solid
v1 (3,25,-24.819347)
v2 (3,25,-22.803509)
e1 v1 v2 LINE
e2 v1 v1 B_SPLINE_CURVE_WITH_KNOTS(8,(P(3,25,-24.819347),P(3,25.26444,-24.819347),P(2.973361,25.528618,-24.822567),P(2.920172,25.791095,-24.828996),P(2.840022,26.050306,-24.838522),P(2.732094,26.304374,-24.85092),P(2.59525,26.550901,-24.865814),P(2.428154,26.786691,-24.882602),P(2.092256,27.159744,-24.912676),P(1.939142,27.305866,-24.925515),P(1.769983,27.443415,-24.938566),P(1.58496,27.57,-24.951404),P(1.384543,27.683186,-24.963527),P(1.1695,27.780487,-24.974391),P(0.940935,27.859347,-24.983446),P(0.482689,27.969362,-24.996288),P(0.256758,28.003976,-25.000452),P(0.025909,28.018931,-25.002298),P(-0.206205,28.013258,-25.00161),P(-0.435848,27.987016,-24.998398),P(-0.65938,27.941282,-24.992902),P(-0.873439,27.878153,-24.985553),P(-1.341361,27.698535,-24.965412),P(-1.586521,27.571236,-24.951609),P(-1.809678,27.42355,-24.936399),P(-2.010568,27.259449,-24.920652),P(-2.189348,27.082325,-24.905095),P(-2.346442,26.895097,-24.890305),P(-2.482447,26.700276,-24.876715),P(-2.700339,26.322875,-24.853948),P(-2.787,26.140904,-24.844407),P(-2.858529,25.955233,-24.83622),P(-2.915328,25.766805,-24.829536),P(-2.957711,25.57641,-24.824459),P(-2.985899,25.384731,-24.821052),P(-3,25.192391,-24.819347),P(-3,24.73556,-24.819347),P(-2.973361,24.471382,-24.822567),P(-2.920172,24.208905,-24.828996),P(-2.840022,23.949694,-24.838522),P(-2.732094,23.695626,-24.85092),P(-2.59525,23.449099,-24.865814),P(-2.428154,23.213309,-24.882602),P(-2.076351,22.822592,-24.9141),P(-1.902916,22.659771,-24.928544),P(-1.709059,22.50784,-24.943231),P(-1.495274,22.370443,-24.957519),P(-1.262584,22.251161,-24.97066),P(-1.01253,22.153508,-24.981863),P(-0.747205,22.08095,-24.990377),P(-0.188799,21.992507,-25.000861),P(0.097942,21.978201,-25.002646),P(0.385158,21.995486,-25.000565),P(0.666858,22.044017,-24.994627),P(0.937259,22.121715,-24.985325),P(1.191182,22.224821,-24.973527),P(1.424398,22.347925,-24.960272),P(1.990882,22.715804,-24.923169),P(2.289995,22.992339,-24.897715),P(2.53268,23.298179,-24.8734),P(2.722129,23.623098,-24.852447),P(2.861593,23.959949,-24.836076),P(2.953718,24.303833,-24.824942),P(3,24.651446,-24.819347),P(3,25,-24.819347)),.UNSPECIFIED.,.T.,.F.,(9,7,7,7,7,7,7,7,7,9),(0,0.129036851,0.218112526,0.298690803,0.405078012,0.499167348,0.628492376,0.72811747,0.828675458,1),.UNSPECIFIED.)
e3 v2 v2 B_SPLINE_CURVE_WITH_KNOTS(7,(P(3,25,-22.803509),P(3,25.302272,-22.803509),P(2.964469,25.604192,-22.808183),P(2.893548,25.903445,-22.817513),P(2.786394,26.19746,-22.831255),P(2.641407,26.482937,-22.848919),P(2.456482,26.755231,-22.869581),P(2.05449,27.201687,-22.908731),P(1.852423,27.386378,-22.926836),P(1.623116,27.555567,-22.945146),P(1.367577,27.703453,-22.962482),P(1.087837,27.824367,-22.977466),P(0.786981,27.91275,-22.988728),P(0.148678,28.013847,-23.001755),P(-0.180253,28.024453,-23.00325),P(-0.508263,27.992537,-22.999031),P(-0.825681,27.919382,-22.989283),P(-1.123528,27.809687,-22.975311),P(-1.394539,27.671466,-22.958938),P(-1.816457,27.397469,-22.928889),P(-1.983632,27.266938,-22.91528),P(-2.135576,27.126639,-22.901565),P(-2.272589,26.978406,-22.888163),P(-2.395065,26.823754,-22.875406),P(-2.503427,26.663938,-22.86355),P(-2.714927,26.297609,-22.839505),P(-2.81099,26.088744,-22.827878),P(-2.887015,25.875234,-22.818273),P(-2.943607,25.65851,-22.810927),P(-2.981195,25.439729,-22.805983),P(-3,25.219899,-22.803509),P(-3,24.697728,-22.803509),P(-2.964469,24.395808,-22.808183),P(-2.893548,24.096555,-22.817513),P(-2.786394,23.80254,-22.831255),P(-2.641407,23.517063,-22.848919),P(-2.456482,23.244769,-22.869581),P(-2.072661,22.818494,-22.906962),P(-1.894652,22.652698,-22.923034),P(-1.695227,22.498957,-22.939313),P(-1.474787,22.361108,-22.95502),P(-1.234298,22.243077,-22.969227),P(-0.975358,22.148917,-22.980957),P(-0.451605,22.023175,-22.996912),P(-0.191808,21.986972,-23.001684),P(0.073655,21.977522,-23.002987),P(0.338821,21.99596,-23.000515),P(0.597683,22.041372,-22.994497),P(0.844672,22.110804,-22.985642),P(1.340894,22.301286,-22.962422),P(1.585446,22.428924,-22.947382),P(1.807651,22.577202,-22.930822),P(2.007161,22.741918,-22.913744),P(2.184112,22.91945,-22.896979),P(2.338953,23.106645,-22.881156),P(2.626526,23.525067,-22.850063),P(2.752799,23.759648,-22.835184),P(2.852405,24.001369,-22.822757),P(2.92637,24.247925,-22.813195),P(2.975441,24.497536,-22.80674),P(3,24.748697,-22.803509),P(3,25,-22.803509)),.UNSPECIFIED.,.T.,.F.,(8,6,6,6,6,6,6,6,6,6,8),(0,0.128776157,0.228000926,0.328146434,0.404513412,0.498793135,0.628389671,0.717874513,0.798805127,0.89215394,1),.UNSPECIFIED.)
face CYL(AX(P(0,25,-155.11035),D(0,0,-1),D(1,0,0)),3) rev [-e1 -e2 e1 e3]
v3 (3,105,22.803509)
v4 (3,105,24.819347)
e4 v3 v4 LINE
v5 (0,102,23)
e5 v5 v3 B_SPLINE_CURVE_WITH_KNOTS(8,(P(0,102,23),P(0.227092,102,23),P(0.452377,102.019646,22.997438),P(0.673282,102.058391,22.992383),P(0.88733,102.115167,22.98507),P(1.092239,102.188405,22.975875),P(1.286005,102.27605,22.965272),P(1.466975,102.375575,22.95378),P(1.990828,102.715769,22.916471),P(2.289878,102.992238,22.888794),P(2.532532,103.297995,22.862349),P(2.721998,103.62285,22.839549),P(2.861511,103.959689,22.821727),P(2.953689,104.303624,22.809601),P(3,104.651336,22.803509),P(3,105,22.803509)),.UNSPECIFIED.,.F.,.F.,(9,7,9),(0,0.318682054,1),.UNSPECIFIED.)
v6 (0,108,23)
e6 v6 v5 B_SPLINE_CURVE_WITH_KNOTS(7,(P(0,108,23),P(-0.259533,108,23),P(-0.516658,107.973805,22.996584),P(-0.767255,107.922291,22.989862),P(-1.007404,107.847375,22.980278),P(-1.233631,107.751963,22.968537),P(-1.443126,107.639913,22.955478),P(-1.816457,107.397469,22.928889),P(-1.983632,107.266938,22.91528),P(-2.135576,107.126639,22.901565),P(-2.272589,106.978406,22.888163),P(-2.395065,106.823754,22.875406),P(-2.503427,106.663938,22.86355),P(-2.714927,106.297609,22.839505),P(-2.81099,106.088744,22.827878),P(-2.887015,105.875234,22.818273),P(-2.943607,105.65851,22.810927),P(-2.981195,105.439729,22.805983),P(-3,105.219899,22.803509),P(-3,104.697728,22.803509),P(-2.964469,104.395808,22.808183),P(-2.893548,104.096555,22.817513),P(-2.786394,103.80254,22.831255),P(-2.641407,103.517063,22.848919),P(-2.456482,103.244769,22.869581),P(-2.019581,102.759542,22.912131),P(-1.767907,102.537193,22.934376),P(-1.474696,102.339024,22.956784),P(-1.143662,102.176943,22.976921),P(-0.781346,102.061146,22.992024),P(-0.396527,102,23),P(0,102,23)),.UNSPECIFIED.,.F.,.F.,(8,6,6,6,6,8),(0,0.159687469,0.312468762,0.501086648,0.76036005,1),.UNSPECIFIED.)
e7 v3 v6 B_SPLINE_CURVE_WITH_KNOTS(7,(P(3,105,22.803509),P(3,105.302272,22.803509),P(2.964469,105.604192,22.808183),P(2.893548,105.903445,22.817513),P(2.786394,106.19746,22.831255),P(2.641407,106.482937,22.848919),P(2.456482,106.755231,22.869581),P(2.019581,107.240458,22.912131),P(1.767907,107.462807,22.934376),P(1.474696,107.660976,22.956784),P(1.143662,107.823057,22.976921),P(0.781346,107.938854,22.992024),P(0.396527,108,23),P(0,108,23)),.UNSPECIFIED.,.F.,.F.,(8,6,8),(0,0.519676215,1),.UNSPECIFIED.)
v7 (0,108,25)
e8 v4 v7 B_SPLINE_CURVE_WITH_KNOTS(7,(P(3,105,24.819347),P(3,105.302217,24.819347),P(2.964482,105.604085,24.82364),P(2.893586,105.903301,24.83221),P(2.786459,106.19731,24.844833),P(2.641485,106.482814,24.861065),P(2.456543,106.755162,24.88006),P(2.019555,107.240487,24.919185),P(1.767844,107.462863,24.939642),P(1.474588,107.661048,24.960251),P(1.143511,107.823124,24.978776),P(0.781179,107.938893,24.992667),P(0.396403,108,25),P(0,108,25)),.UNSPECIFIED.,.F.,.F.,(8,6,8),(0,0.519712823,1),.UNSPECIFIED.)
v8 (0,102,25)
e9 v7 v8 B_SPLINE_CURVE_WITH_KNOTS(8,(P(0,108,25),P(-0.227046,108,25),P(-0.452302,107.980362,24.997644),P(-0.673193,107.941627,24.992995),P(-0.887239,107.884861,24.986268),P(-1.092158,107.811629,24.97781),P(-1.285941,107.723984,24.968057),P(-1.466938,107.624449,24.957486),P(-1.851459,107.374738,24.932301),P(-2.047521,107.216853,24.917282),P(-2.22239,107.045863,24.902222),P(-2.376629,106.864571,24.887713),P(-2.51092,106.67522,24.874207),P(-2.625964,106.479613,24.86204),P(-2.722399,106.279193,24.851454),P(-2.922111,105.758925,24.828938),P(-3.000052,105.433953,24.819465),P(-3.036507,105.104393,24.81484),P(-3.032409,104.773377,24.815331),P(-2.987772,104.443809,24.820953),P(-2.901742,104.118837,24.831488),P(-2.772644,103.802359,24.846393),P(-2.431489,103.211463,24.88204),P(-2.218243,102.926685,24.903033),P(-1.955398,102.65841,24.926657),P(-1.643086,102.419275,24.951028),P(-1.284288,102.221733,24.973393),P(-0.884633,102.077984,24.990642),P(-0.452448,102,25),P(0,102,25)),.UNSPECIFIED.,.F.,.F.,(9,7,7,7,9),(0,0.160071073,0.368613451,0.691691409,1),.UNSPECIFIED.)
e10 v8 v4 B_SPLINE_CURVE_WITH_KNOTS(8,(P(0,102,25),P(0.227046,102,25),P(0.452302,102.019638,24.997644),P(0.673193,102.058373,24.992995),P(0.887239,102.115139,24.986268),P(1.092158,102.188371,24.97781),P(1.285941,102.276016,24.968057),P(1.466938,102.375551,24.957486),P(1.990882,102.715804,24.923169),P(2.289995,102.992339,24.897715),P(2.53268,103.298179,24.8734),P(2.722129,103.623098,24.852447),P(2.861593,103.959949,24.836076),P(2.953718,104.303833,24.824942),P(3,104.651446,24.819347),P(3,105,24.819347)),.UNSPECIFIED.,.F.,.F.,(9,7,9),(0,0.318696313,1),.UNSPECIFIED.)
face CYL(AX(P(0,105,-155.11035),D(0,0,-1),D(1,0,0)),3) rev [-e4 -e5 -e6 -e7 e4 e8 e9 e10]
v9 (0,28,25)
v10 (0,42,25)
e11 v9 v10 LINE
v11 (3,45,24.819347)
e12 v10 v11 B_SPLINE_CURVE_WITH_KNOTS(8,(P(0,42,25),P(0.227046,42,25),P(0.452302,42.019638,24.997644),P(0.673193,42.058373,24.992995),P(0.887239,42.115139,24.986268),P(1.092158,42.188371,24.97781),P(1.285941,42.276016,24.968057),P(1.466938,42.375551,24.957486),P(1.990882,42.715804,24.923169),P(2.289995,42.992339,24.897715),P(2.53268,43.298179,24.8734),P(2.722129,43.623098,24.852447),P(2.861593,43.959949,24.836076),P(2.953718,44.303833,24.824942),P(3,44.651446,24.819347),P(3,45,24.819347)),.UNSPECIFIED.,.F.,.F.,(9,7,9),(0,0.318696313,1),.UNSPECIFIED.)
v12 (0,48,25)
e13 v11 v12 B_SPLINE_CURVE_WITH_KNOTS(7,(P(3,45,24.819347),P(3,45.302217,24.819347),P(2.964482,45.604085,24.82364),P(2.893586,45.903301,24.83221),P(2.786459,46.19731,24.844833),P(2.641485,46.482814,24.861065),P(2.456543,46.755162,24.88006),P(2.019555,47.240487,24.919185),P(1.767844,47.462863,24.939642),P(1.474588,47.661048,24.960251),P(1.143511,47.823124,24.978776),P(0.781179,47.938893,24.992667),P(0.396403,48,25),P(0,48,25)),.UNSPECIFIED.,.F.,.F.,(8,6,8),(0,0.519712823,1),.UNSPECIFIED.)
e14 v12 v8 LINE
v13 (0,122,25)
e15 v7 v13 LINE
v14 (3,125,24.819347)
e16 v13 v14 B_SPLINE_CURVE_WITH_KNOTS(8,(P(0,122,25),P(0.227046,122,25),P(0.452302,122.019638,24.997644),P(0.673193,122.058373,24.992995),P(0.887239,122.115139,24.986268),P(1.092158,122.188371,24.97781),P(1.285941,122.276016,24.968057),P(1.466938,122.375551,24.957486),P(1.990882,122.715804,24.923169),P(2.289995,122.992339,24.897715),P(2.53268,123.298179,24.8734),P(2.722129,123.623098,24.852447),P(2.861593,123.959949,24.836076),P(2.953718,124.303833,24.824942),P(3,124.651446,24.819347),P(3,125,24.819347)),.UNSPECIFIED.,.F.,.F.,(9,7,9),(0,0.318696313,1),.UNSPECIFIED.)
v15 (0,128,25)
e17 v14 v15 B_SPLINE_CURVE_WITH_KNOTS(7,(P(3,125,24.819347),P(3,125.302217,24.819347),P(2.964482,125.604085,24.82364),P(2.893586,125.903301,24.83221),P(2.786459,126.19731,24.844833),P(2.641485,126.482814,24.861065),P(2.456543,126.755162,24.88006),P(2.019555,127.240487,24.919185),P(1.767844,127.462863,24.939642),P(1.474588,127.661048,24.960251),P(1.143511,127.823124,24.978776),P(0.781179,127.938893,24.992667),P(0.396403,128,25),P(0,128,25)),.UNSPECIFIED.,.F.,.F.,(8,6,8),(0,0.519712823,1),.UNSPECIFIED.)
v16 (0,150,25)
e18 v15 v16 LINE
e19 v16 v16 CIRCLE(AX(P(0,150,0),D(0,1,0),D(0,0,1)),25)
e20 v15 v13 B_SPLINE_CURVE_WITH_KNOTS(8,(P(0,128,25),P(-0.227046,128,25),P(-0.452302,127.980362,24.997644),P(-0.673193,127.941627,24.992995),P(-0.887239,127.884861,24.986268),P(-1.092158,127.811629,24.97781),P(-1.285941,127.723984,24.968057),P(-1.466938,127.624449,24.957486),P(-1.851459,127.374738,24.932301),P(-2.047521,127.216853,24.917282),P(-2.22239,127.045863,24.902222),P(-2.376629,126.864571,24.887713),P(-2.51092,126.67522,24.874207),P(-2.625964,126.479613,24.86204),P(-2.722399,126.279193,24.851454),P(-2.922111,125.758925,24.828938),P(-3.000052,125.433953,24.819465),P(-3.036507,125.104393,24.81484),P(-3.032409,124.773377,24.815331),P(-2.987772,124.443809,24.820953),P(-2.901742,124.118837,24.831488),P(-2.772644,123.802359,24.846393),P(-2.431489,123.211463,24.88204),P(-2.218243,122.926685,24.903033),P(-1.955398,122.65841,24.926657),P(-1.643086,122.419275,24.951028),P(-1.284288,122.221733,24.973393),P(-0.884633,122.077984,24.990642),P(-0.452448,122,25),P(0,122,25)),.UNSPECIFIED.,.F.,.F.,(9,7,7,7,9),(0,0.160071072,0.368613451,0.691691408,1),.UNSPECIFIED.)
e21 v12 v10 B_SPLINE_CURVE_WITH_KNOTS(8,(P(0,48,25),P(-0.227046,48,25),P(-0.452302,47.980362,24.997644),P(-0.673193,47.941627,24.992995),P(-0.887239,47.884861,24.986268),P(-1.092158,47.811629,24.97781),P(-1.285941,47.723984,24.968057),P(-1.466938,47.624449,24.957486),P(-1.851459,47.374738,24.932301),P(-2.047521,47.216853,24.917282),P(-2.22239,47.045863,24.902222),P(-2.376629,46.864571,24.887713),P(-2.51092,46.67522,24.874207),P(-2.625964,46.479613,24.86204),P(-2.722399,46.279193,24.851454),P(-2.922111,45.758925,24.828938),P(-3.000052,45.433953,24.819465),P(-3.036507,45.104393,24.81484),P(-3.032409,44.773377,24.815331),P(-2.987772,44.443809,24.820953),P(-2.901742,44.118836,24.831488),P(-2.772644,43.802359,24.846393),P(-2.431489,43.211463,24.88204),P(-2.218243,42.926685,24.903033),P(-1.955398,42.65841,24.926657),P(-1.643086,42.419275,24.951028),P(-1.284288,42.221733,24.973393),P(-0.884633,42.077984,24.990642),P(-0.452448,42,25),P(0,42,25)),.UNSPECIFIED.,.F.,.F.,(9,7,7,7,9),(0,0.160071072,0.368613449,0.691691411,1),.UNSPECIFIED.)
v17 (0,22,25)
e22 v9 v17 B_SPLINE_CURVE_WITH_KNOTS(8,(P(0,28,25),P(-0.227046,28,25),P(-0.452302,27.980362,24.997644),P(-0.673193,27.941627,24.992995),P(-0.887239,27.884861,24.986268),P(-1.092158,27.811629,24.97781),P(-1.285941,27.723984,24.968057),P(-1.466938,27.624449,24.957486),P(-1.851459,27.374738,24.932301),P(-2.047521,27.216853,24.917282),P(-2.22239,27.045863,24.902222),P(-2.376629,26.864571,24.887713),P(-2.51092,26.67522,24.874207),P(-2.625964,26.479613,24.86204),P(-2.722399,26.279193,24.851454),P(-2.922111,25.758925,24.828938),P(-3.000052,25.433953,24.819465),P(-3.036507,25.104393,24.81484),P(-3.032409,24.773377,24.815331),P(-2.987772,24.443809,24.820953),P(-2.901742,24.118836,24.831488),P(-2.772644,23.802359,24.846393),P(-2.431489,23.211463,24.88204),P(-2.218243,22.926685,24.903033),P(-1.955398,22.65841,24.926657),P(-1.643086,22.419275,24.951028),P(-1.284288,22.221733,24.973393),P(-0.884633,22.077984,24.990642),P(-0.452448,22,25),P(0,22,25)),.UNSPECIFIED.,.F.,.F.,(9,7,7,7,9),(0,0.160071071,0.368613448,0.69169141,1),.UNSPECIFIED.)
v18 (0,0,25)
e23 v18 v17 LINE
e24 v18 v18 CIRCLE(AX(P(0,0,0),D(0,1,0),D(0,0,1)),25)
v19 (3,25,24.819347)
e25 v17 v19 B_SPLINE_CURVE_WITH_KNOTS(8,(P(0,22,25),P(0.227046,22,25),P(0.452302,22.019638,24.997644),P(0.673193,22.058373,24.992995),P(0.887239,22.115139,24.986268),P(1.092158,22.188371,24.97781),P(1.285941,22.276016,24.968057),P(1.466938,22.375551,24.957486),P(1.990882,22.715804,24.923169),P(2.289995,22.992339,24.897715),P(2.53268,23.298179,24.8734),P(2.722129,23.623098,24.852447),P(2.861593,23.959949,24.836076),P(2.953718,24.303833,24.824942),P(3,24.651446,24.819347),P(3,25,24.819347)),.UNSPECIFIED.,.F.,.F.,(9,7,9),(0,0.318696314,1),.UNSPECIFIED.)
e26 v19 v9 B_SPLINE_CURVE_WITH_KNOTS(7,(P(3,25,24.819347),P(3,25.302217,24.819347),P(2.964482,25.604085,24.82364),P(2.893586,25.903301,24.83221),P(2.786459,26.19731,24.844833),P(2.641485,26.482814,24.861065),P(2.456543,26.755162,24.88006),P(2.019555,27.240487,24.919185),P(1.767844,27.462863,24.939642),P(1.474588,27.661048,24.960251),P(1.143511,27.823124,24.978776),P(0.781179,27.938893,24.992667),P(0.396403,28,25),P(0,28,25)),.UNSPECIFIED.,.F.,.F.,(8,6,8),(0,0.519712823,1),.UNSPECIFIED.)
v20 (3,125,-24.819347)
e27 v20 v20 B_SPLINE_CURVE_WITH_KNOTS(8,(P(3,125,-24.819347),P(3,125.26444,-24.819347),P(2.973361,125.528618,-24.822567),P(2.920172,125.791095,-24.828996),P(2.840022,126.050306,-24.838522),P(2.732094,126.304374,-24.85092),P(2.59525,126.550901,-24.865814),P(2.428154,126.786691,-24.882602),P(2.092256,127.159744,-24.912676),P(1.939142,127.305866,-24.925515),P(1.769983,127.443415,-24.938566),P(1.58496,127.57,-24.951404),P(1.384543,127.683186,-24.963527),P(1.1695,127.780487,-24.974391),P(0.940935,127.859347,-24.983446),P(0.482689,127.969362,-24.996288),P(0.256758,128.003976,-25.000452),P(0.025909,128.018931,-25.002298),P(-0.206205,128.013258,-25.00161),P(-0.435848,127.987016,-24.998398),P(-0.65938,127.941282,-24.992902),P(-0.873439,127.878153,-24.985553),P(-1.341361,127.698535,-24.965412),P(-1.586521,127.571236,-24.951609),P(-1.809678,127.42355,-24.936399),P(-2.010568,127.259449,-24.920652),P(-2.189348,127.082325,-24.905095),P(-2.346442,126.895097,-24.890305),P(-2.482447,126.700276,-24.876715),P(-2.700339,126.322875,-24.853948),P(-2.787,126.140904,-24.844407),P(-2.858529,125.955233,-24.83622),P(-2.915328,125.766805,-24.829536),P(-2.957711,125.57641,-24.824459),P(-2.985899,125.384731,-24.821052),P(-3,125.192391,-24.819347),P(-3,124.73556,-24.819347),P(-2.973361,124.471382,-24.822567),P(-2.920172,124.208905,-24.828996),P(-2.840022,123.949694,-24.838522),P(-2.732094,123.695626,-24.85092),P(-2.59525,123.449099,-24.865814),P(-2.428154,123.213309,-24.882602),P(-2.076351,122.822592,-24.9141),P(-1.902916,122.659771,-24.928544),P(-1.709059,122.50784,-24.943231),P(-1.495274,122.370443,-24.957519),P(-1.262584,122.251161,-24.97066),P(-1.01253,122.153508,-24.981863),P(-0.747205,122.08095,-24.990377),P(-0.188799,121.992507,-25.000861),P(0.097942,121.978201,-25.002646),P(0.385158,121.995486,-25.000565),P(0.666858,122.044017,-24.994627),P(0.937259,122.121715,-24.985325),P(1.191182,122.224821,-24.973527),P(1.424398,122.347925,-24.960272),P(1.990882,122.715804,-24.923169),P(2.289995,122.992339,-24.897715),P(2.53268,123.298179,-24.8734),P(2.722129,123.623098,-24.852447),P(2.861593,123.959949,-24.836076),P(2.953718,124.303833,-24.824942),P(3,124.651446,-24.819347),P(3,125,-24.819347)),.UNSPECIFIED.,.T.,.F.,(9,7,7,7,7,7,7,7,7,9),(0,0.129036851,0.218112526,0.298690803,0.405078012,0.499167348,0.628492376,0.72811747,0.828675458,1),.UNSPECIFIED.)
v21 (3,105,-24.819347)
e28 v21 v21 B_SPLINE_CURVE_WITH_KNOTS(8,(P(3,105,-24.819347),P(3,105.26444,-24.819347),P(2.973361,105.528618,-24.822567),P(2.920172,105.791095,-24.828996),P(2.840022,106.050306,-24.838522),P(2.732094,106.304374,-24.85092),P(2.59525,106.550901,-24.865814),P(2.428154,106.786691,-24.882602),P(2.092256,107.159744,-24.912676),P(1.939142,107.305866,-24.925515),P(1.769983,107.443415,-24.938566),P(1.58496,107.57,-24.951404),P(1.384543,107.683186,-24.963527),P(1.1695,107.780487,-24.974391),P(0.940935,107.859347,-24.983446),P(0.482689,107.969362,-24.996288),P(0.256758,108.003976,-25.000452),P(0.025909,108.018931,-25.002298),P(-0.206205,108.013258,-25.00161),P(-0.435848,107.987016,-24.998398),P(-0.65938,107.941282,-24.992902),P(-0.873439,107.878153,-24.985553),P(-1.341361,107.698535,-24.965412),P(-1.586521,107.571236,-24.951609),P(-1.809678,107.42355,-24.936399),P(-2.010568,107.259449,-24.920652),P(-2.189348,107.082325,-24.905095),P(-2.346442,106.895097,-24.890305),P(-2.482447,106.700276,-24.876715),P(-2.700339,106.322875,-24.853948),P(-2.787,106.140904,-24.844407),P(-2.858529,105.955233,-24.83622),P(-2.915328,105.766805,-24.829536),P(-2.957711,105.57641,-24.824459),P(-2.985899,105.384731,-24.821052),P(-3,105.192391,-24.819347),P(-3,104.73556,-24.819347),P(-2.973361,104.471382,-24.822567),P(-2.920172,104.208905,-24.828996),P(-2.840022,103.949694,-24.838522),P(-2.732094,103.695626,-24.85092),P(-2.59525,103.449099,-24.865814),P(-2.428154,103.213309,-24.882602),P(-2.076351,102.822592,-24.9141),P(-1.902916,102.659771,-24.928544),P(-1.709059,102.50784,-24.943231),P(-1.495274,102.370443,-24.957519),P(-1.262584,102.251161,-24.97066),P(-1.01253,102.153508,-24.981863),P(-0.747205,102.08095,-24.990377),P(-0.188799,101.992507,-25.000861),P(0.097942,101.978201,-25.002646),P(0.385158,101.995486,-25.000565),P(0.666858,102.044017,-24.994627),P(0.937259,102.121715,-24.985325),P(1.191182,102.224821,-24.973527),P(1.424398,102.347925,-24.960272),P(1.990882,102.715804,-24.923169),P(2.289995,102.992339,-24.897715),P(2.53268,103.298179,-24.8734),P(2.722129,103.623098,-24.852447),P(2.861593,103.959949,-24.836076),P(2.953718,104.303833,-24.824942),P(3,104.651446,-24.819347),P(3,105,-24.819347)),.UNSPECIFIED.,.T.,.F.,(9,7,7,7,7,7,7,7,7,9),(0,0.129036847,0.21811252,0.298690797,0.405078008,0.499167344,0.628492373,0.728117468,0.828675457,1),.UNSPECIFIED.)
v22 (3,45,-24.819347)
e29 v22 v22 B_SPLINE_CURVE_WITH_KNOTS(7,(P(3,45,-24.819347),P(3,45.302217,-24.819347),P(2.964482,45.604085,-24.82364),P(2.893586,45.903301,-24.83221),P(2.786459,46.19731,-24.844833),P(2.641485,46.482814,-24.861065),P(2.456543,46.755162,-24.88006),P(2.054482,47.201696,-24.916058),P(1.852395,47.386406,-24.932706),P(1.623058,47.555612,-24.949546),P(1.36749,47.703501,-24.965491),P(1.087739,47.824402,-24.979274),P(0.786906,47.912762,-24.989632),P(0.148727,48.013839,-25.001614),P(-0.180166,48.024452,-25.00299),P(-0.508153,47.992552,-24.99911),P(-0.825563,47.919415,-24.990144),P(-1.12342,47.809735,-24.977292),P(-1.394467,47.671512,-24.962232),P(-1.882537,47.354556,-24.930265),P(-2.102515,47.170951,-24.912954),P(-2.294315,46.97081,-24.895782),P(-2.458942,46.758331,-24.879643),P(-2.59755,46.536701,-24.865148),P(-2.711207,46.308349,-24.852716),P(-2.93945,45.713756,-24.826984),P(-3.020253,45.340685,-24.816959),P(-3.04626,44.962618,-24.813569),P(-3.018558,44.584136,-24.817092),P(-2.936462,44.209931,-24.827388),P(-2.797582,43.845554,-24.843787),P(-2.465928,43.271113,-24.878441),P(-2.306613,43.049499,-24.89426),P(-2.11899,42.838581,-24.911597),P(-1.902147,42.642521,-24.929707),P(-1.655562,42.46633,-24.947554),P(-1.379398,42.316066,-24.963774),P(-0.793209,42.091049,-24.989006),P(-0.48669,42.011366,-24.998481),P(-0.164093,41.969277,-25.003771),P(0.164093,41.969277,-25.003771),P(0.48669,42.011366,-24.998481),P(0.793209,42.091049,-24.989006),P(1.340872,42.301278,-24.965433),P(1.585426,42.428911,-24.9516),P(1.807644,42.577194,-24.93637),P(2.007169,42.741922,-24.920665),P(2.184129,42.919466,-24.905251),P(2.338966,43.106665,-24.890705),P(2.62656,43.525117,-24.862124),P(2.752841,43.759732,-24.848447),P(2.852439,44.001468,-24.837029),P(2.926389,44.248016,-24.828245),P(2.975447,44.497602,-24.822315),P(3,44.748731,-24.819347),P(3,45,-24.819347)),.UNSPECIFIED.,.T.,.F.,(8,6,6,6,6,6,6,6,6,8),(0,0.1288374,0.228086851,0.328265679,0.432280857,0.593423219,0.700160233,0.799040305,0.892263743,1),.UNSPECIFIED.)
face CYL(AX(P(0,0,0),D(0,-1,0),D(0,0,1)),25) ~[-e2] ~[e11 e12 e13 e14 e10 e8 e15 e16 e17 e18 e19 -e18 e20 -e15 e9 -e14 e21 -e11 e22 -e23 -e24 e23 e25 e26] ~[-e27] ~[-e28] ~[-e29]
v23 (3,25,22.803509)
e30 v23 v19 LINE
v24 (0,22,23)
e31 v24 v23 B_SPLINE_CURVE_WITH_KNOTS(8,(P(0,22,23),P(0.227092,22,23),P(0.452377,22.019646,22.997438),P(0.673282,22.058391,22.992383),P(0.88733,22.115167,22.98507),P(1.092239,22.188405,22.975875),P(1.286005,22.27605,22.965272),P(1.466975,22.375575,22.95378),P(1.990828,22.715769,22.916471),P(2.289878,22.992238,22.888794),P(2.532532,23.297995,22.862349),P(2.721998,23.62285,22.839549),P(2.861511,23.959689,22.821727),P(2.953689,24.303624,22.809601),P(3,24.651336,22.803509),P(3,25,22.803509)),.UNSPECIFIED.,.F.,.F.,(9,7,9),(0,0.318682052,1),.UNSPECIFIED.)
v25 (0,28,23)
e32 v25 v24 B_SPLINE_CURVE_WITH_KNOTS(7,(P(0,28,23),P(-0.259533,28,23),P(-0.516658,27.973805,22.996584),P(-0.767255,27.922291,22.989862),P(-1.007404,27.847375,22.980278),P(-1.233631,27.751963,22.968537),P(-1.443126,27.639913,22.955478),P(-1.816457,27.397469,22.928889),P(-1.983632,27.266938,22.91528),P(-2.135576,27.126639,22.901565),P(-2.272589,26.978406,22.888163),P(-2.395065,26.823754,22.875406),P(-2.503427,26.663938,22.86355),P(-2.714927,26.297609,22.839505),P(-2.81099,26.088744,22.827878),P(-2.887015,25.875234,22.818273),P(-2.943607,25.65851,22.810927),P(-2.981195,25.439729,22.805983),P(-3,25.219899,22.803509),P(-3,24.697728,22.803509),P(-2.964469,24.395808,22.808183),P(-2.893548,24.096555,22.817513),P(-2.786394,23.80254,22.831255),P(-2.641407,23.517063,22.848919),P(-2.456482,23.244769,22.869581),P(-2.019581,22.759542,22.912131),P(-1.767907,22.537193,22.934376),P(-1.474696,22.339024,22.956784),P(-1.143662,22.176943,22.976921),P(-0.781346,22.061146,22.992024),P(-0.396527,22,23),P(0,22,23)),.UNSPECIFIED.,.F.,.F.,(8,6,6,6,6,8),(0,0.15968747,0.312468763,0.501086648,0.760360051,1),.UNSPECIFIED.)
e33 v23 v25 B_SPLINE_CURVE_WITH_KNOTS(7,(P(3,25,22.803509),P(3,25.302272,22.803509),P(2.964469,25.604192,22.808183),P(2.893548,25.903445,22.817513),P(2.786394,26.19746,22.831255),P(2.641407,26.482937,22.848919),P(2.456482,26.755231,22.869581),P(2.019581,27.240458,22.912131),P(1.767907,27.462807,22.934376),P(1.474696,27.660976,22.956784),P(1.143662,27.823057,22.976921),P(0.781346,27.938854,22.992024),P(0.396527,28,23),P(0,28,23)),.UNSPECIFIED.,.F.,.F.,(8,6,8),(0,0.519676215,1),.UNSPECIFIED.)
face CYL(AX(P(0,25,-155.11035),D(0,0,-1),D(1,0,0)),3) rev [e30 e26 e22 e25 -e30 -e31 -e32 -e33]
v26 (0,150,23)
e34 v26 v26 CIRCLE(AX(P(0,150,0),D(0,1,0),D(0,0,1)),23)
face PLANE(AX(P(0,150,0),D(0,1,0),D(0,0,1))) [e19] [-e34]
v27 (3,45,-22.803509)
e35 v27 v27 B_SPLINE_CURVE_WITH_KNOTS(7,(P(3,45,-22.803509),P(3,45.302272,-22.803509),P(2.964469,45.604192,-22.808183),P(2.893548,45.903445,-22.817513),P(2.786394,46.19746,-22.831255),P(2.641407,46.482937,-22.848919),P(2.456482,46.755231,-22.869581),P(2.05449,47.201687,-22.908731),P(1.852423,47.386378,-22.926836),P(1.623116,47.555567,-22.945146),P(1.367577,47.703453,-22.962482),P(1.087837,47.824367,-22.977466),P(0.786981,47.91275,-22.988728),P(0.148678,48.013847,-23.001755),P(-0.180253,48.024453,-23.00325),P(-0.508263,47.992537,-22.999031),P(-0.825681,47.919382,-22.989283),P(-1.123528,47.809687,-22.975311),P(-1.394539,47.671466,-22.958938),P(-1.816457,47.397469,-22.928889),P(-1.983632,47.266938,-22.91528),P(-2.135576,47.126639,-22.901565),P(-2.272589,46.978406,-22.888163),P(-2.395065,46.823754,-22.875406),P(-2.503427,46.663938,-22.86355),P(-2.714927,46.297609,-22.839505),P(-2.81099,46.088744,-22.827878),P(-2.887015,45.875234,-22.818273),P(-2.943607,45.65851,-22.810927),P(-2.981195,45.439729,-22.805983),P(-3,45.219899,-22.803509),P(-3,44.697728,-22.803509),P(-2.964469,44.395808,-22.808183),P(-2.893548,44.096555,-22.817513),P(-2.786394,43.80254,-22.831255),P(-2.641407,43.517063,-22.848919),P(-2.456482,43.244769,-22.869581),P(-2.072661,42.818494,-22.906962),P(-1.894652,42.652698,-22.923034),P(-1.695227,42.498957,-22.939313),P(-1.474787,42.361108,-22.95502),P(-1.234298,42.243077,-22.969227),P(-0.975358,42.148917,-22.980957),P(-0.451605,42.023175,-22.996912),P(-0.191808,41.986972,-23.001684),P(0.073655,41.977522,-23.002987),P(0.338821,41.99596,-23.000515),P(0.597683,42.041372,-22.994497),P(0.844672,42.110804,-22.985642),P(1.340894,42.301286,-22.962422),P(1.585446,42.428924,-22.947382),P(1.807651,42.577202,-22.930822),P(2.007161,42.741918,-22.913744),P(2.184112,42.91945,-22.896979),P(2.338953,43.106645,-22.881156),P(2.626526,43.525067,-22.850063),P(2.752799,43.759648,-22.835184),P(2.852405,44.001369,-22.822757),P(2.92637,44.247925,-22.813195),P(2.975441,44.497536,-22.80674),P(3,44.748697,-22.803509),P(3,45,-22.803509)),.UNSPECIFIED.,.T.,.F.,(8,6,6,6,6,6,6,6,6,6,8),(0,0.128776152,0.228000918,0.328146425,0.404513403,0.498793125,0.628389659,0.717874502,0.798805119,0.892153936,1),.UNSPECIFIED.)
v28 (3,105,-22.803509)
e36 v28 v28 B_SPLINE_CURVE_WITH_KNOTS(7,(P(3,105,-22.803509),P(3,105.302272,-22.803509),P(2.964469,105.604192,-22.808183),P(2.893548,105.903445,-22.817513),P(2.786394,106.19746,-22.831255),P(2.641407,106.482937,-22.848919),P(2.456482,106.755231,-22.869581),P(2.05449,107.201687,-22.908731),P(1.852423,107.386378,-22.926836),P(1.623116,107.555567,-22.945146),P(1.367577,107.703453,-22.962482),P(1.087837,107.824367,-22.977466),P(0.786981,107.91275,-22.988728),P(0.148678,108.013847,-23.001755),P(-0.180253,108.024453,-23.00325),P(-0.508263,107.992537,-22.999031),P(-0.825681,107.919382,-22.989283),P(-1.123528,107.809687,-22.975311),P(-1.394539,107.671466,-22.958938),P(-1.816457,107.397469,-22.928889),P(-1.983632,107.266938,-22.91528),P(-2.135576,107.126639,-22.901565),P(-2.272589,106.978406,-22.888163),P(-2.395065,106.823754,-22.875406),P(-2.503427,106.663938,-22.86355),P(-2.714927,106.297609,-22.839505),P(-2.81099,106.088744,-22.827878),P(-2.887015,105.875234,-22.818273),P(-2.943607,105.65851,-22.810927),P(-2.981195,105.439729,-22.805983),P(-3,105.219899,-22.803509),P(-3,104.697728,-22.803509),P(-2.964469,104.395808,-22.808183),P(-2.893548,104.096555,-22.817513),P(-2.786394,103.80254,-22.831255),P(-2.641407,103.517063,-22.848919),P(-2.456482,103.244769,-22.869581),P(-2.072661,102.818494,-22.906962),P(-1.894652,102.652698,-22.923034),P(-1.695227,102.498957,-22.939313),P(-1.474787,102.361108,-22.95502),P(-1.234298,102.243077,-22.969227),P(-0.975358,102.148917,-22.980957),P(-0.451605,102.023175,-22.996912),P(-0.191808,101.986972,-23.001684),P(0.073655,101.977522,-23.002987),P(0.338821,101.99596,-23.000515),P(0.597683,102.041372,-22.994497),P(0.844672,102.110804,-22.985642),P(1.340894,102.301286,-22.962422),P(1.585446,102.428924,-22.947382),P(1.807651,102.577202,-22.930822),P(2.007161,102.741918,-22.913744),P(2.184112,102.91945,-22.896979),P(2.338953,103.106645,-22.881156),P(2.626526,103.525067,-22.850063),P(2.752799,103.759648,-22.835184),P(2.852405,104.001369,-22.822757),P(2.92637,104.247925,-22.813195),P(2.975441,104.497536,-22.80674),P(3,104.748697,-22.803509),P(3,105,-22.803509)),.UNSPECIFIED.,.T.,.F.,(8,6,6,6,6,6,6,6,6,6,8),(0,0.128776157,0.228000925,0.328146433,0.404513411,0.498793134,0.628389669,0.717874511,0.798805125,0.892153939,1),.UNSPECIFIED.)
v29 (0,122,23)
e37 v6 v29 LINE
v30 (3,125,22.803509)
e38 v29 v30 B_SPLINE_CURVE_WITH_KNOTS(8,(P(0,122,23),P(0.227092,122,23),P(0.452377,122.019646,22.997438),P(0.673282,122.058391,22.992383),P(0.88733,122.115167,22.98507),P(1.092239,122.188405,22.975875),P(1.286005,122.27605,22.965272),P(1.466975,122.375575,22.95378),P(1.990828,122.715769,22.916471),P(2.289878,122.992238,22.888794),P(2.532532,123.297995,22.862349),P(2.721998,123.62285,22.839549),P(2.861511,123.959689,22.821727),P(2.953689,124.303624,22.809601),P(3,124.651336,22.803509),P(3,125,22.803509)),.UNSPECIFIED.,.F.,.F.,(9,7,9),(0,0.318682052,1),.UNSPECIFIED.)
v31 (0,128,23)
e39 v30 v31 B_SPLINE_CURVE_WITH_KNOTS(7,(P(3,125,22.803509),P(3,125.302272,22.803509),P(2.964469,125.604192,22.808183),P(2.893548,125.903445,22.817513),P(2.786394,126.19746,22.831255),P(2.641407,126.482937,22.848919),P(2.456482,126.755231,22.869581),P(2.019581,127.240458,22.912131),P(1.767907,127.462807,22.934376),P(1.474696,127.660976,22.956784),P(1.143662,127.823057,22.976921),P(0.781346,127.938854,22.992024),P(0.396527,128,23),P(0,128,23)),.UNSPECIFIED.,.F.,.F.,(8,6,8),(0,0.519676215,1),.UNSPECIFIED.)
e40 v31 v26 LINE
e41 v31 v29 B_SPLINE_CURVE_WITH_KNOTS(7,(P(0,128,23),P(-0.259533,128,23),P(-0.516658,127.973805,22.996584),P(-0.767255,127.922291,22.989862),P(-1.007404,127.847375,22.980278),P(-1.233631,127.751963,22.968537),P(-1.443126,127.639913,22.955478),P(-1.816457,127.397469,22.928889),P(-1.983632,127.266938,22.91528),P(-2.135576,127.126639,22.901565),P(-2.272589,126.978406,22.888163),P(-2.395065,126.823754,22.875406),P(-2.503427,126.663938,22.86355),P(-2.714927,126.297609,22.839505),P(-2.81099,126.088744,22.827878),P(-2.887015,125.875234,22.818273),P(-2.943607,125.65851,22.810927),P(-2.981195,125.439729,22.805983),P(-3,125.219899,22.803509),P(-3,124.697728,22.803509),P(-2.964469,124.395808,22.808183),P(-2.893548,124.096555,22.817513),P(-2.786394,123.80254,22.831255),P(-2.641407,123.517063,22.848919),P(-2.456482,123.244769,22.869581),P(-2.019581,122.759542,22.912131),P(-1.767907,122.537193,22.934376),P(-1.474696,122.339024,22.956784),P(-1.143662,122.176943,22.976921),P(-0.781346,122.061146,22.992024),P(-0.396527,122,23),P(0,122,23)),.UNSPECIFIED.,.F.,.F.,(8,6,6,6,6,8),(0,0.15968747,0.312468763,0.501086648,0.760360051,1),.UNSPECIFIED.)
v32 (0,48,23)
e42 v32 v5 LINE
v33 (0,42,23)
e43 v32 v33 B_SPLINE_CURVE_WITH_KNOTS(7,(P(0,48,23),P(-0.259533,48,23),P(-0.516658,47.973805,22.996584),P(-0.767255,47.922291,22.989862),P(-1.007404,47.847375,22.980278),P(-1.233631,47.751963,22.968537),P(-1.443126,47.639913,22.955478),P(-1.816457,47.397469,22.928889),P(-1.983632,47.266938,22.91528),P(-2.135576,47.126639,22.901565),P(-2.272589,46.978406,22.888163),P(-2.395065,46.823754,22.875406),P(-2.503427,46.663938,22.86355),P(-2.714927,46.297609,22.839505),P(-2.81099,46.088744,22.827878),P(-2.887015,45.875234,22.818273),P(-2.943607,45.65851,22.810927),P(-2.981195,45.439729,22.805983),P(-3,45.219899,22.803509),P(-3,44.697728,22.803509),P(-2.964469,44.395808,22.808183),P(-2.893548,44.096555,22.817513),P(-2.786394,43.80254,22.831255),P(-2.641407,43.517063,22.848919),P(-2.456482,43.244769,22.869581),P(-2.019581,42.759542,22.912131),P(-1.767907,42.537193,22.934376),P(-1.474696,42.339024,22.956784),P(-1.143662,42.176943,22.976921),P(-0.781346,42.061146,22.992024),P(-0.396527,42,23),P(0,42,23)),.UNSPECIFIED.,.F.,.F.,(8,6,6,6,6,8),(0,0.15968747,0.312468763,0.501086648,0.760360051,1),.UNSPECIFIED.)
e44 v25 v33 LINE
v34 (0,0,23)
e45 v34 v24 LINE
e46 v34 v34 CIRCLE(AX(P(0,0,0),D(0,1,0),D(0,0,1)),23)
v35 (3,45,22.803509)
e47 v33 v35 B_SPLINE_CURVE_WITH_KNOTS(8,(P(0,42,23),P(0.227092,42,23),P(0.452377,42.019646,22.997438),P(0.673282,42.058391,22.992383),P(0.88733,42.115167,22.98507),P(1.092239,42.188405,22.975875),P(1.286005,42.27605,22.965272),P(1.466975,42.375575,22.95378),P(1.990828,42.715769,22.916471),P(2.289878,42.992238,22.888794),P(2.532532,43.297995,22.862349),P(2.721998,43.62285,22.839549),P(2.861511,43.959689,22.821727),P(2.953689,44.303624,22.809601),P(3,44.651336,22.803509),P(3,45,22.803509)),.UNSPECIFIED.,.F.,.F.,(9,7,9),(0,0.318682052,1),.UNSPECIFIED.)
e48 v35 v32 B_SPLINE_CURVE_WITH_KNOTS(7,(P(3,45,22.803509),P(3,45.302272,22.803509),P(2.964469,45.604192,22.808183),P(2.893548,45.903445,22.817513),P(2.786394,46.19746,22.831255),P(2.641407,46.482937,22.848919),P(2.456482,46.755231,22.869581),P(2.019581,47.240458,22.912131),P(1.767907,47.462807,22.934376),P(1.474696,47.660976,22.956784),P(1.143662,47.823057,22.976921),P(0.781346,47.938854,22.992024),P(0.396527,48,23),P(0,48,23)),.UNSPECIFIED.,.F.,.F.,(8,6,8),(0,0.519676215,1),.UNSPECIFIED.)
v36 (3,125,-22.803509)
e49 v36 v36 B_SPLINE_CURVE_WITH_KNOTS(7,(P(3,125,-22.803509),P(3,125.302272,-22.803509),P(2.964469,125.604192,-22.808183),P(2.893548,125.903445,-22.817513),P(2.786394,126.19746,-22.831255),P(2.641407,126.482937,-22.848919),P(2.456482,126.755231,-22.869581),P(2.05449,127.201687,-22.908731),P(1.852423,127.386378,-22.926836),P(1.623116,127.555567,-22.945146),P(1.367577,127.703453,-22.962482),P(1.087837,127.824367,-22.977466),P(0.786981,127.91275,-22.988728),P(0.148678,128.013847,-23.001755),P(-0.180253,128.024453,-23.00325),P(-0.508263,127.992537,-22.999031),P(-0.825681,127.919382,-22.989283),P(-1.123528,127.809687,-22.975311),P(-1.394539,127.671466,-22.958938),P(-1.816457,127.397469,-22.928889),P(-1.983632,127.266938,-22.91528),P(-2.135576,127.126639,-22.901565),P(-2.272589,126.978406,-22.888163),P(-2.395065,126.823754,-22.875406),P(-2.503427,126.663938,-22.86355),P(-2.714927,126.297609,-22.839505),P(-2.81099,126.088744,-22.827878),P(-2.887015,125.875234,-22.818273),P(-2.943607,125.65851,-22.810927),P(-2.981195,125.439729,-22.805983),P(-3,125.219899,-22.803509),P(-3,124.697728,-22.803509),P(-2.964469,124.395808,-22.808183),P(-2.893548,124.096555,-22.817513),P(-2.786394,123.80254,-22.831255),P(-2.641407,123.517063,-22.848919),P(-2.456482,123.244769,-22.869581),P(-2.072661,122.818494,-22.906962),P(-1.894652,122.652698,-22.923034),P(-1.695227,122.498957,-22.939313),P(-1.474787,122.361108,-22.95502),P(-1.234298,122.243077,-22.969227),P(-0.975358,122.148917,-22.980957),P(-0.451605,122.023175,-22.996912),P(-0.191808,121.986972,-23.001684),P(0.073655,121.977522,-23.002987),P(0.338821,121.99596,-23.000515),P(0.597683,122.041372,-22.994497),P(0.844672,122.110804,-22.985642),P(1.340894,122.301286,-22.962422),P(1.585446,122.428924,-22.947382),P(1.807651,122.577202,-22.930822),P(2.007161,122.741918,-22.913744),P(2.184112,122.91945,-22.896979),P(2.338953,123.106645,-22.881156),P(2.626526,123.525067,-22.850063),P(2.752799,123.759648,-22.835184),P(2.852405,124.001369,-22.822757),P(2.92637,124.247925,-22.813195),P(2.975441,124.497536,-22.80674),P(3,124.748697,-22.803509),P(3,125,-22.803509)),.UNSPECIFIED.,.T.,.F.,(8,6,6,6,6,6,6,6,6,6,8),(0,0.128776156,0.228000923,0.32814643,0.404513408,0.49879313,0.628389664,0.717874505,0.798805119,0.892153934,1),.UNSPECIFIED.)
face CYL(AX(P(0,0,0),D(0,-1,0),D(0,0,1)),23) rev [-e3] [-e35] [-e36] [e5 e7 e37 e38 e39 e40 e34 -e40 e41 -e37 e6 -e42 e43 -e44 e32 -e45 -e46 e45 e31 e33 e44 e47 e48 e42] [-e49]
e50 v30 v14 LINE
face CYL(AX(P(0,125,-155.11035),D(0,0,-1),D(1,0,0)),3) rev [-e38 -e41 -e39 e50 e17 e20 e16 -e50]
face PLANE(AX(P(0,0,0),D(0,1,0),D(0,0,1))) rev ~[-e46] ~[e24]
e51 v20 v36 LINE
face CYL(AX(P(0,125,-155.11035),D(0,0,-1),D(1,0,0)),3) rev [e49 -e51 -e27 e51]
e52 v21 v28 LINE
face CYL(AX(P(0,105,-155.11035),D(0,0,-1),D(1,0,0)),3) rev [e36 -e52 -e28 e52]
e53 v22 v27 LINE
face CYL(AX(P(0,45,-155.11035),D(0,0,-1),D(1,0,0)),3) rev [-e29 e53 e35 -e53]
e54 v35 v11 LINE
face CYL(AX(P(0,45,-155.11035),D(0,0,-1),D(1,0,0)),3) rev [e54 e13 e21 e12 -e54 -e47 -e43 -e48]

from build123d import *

# Parameters (mm, degrees)
SKETCH_1_R               = 25
SKETCH_1_R_2             = 23
EXTRUDE_1_DEPTH          = 150
CUT_EXTRUDE_2_DEPTH      = 155.110350074
CUT_EXTRUDE_2_DEPTH_BACK = 155.110350074
SKETCH_3_R               = 3


with BuildPart() as part:
    # 草图1 → 凸台-拉伸1 (new body)
    with BuildSketch(Plane(origin=(0, 0, 0), x_dir=(1, 0, 0), z_dir=(0, 1, 0))):
        with Locations(Location((0, 0, 0), (0, 0, 270))):
            Circle(SKETCH_1_R)
        with Locations(Location((0, 0, 0), (0, 0, 270))):
            Circle(SKETCH_1_R_2, mode=Mode.SUBTRACT)
    extrude(amount=EXTRUDE_1_DEPTH)

    # 草图3 → 切除-拉伸2 (cut, two sides: drawn at the far end of the back side and taken through both)
    with BuildSketch(Plane.XY.offset(-CUT_EXTRUDE_2_DEPTH_BACK)):
        with Locations((0, 45)):
            Circle(SKETCH_3_R)
        with Locations((0, 25)):
            Circle(SKETCH_3_R)
        with Locations((0, 125)):
            Circle(SKETCH_3_R)
        with Locations((0, 105)):
            Circle(SKETCH_3_R)
    extrude(amount=CUT_EXTRUDE_2_DEPTH + CUT_EXTRUDE_2_DEPTH_BACK, mode=Mode.SUBTRACT)


solid = part.part
